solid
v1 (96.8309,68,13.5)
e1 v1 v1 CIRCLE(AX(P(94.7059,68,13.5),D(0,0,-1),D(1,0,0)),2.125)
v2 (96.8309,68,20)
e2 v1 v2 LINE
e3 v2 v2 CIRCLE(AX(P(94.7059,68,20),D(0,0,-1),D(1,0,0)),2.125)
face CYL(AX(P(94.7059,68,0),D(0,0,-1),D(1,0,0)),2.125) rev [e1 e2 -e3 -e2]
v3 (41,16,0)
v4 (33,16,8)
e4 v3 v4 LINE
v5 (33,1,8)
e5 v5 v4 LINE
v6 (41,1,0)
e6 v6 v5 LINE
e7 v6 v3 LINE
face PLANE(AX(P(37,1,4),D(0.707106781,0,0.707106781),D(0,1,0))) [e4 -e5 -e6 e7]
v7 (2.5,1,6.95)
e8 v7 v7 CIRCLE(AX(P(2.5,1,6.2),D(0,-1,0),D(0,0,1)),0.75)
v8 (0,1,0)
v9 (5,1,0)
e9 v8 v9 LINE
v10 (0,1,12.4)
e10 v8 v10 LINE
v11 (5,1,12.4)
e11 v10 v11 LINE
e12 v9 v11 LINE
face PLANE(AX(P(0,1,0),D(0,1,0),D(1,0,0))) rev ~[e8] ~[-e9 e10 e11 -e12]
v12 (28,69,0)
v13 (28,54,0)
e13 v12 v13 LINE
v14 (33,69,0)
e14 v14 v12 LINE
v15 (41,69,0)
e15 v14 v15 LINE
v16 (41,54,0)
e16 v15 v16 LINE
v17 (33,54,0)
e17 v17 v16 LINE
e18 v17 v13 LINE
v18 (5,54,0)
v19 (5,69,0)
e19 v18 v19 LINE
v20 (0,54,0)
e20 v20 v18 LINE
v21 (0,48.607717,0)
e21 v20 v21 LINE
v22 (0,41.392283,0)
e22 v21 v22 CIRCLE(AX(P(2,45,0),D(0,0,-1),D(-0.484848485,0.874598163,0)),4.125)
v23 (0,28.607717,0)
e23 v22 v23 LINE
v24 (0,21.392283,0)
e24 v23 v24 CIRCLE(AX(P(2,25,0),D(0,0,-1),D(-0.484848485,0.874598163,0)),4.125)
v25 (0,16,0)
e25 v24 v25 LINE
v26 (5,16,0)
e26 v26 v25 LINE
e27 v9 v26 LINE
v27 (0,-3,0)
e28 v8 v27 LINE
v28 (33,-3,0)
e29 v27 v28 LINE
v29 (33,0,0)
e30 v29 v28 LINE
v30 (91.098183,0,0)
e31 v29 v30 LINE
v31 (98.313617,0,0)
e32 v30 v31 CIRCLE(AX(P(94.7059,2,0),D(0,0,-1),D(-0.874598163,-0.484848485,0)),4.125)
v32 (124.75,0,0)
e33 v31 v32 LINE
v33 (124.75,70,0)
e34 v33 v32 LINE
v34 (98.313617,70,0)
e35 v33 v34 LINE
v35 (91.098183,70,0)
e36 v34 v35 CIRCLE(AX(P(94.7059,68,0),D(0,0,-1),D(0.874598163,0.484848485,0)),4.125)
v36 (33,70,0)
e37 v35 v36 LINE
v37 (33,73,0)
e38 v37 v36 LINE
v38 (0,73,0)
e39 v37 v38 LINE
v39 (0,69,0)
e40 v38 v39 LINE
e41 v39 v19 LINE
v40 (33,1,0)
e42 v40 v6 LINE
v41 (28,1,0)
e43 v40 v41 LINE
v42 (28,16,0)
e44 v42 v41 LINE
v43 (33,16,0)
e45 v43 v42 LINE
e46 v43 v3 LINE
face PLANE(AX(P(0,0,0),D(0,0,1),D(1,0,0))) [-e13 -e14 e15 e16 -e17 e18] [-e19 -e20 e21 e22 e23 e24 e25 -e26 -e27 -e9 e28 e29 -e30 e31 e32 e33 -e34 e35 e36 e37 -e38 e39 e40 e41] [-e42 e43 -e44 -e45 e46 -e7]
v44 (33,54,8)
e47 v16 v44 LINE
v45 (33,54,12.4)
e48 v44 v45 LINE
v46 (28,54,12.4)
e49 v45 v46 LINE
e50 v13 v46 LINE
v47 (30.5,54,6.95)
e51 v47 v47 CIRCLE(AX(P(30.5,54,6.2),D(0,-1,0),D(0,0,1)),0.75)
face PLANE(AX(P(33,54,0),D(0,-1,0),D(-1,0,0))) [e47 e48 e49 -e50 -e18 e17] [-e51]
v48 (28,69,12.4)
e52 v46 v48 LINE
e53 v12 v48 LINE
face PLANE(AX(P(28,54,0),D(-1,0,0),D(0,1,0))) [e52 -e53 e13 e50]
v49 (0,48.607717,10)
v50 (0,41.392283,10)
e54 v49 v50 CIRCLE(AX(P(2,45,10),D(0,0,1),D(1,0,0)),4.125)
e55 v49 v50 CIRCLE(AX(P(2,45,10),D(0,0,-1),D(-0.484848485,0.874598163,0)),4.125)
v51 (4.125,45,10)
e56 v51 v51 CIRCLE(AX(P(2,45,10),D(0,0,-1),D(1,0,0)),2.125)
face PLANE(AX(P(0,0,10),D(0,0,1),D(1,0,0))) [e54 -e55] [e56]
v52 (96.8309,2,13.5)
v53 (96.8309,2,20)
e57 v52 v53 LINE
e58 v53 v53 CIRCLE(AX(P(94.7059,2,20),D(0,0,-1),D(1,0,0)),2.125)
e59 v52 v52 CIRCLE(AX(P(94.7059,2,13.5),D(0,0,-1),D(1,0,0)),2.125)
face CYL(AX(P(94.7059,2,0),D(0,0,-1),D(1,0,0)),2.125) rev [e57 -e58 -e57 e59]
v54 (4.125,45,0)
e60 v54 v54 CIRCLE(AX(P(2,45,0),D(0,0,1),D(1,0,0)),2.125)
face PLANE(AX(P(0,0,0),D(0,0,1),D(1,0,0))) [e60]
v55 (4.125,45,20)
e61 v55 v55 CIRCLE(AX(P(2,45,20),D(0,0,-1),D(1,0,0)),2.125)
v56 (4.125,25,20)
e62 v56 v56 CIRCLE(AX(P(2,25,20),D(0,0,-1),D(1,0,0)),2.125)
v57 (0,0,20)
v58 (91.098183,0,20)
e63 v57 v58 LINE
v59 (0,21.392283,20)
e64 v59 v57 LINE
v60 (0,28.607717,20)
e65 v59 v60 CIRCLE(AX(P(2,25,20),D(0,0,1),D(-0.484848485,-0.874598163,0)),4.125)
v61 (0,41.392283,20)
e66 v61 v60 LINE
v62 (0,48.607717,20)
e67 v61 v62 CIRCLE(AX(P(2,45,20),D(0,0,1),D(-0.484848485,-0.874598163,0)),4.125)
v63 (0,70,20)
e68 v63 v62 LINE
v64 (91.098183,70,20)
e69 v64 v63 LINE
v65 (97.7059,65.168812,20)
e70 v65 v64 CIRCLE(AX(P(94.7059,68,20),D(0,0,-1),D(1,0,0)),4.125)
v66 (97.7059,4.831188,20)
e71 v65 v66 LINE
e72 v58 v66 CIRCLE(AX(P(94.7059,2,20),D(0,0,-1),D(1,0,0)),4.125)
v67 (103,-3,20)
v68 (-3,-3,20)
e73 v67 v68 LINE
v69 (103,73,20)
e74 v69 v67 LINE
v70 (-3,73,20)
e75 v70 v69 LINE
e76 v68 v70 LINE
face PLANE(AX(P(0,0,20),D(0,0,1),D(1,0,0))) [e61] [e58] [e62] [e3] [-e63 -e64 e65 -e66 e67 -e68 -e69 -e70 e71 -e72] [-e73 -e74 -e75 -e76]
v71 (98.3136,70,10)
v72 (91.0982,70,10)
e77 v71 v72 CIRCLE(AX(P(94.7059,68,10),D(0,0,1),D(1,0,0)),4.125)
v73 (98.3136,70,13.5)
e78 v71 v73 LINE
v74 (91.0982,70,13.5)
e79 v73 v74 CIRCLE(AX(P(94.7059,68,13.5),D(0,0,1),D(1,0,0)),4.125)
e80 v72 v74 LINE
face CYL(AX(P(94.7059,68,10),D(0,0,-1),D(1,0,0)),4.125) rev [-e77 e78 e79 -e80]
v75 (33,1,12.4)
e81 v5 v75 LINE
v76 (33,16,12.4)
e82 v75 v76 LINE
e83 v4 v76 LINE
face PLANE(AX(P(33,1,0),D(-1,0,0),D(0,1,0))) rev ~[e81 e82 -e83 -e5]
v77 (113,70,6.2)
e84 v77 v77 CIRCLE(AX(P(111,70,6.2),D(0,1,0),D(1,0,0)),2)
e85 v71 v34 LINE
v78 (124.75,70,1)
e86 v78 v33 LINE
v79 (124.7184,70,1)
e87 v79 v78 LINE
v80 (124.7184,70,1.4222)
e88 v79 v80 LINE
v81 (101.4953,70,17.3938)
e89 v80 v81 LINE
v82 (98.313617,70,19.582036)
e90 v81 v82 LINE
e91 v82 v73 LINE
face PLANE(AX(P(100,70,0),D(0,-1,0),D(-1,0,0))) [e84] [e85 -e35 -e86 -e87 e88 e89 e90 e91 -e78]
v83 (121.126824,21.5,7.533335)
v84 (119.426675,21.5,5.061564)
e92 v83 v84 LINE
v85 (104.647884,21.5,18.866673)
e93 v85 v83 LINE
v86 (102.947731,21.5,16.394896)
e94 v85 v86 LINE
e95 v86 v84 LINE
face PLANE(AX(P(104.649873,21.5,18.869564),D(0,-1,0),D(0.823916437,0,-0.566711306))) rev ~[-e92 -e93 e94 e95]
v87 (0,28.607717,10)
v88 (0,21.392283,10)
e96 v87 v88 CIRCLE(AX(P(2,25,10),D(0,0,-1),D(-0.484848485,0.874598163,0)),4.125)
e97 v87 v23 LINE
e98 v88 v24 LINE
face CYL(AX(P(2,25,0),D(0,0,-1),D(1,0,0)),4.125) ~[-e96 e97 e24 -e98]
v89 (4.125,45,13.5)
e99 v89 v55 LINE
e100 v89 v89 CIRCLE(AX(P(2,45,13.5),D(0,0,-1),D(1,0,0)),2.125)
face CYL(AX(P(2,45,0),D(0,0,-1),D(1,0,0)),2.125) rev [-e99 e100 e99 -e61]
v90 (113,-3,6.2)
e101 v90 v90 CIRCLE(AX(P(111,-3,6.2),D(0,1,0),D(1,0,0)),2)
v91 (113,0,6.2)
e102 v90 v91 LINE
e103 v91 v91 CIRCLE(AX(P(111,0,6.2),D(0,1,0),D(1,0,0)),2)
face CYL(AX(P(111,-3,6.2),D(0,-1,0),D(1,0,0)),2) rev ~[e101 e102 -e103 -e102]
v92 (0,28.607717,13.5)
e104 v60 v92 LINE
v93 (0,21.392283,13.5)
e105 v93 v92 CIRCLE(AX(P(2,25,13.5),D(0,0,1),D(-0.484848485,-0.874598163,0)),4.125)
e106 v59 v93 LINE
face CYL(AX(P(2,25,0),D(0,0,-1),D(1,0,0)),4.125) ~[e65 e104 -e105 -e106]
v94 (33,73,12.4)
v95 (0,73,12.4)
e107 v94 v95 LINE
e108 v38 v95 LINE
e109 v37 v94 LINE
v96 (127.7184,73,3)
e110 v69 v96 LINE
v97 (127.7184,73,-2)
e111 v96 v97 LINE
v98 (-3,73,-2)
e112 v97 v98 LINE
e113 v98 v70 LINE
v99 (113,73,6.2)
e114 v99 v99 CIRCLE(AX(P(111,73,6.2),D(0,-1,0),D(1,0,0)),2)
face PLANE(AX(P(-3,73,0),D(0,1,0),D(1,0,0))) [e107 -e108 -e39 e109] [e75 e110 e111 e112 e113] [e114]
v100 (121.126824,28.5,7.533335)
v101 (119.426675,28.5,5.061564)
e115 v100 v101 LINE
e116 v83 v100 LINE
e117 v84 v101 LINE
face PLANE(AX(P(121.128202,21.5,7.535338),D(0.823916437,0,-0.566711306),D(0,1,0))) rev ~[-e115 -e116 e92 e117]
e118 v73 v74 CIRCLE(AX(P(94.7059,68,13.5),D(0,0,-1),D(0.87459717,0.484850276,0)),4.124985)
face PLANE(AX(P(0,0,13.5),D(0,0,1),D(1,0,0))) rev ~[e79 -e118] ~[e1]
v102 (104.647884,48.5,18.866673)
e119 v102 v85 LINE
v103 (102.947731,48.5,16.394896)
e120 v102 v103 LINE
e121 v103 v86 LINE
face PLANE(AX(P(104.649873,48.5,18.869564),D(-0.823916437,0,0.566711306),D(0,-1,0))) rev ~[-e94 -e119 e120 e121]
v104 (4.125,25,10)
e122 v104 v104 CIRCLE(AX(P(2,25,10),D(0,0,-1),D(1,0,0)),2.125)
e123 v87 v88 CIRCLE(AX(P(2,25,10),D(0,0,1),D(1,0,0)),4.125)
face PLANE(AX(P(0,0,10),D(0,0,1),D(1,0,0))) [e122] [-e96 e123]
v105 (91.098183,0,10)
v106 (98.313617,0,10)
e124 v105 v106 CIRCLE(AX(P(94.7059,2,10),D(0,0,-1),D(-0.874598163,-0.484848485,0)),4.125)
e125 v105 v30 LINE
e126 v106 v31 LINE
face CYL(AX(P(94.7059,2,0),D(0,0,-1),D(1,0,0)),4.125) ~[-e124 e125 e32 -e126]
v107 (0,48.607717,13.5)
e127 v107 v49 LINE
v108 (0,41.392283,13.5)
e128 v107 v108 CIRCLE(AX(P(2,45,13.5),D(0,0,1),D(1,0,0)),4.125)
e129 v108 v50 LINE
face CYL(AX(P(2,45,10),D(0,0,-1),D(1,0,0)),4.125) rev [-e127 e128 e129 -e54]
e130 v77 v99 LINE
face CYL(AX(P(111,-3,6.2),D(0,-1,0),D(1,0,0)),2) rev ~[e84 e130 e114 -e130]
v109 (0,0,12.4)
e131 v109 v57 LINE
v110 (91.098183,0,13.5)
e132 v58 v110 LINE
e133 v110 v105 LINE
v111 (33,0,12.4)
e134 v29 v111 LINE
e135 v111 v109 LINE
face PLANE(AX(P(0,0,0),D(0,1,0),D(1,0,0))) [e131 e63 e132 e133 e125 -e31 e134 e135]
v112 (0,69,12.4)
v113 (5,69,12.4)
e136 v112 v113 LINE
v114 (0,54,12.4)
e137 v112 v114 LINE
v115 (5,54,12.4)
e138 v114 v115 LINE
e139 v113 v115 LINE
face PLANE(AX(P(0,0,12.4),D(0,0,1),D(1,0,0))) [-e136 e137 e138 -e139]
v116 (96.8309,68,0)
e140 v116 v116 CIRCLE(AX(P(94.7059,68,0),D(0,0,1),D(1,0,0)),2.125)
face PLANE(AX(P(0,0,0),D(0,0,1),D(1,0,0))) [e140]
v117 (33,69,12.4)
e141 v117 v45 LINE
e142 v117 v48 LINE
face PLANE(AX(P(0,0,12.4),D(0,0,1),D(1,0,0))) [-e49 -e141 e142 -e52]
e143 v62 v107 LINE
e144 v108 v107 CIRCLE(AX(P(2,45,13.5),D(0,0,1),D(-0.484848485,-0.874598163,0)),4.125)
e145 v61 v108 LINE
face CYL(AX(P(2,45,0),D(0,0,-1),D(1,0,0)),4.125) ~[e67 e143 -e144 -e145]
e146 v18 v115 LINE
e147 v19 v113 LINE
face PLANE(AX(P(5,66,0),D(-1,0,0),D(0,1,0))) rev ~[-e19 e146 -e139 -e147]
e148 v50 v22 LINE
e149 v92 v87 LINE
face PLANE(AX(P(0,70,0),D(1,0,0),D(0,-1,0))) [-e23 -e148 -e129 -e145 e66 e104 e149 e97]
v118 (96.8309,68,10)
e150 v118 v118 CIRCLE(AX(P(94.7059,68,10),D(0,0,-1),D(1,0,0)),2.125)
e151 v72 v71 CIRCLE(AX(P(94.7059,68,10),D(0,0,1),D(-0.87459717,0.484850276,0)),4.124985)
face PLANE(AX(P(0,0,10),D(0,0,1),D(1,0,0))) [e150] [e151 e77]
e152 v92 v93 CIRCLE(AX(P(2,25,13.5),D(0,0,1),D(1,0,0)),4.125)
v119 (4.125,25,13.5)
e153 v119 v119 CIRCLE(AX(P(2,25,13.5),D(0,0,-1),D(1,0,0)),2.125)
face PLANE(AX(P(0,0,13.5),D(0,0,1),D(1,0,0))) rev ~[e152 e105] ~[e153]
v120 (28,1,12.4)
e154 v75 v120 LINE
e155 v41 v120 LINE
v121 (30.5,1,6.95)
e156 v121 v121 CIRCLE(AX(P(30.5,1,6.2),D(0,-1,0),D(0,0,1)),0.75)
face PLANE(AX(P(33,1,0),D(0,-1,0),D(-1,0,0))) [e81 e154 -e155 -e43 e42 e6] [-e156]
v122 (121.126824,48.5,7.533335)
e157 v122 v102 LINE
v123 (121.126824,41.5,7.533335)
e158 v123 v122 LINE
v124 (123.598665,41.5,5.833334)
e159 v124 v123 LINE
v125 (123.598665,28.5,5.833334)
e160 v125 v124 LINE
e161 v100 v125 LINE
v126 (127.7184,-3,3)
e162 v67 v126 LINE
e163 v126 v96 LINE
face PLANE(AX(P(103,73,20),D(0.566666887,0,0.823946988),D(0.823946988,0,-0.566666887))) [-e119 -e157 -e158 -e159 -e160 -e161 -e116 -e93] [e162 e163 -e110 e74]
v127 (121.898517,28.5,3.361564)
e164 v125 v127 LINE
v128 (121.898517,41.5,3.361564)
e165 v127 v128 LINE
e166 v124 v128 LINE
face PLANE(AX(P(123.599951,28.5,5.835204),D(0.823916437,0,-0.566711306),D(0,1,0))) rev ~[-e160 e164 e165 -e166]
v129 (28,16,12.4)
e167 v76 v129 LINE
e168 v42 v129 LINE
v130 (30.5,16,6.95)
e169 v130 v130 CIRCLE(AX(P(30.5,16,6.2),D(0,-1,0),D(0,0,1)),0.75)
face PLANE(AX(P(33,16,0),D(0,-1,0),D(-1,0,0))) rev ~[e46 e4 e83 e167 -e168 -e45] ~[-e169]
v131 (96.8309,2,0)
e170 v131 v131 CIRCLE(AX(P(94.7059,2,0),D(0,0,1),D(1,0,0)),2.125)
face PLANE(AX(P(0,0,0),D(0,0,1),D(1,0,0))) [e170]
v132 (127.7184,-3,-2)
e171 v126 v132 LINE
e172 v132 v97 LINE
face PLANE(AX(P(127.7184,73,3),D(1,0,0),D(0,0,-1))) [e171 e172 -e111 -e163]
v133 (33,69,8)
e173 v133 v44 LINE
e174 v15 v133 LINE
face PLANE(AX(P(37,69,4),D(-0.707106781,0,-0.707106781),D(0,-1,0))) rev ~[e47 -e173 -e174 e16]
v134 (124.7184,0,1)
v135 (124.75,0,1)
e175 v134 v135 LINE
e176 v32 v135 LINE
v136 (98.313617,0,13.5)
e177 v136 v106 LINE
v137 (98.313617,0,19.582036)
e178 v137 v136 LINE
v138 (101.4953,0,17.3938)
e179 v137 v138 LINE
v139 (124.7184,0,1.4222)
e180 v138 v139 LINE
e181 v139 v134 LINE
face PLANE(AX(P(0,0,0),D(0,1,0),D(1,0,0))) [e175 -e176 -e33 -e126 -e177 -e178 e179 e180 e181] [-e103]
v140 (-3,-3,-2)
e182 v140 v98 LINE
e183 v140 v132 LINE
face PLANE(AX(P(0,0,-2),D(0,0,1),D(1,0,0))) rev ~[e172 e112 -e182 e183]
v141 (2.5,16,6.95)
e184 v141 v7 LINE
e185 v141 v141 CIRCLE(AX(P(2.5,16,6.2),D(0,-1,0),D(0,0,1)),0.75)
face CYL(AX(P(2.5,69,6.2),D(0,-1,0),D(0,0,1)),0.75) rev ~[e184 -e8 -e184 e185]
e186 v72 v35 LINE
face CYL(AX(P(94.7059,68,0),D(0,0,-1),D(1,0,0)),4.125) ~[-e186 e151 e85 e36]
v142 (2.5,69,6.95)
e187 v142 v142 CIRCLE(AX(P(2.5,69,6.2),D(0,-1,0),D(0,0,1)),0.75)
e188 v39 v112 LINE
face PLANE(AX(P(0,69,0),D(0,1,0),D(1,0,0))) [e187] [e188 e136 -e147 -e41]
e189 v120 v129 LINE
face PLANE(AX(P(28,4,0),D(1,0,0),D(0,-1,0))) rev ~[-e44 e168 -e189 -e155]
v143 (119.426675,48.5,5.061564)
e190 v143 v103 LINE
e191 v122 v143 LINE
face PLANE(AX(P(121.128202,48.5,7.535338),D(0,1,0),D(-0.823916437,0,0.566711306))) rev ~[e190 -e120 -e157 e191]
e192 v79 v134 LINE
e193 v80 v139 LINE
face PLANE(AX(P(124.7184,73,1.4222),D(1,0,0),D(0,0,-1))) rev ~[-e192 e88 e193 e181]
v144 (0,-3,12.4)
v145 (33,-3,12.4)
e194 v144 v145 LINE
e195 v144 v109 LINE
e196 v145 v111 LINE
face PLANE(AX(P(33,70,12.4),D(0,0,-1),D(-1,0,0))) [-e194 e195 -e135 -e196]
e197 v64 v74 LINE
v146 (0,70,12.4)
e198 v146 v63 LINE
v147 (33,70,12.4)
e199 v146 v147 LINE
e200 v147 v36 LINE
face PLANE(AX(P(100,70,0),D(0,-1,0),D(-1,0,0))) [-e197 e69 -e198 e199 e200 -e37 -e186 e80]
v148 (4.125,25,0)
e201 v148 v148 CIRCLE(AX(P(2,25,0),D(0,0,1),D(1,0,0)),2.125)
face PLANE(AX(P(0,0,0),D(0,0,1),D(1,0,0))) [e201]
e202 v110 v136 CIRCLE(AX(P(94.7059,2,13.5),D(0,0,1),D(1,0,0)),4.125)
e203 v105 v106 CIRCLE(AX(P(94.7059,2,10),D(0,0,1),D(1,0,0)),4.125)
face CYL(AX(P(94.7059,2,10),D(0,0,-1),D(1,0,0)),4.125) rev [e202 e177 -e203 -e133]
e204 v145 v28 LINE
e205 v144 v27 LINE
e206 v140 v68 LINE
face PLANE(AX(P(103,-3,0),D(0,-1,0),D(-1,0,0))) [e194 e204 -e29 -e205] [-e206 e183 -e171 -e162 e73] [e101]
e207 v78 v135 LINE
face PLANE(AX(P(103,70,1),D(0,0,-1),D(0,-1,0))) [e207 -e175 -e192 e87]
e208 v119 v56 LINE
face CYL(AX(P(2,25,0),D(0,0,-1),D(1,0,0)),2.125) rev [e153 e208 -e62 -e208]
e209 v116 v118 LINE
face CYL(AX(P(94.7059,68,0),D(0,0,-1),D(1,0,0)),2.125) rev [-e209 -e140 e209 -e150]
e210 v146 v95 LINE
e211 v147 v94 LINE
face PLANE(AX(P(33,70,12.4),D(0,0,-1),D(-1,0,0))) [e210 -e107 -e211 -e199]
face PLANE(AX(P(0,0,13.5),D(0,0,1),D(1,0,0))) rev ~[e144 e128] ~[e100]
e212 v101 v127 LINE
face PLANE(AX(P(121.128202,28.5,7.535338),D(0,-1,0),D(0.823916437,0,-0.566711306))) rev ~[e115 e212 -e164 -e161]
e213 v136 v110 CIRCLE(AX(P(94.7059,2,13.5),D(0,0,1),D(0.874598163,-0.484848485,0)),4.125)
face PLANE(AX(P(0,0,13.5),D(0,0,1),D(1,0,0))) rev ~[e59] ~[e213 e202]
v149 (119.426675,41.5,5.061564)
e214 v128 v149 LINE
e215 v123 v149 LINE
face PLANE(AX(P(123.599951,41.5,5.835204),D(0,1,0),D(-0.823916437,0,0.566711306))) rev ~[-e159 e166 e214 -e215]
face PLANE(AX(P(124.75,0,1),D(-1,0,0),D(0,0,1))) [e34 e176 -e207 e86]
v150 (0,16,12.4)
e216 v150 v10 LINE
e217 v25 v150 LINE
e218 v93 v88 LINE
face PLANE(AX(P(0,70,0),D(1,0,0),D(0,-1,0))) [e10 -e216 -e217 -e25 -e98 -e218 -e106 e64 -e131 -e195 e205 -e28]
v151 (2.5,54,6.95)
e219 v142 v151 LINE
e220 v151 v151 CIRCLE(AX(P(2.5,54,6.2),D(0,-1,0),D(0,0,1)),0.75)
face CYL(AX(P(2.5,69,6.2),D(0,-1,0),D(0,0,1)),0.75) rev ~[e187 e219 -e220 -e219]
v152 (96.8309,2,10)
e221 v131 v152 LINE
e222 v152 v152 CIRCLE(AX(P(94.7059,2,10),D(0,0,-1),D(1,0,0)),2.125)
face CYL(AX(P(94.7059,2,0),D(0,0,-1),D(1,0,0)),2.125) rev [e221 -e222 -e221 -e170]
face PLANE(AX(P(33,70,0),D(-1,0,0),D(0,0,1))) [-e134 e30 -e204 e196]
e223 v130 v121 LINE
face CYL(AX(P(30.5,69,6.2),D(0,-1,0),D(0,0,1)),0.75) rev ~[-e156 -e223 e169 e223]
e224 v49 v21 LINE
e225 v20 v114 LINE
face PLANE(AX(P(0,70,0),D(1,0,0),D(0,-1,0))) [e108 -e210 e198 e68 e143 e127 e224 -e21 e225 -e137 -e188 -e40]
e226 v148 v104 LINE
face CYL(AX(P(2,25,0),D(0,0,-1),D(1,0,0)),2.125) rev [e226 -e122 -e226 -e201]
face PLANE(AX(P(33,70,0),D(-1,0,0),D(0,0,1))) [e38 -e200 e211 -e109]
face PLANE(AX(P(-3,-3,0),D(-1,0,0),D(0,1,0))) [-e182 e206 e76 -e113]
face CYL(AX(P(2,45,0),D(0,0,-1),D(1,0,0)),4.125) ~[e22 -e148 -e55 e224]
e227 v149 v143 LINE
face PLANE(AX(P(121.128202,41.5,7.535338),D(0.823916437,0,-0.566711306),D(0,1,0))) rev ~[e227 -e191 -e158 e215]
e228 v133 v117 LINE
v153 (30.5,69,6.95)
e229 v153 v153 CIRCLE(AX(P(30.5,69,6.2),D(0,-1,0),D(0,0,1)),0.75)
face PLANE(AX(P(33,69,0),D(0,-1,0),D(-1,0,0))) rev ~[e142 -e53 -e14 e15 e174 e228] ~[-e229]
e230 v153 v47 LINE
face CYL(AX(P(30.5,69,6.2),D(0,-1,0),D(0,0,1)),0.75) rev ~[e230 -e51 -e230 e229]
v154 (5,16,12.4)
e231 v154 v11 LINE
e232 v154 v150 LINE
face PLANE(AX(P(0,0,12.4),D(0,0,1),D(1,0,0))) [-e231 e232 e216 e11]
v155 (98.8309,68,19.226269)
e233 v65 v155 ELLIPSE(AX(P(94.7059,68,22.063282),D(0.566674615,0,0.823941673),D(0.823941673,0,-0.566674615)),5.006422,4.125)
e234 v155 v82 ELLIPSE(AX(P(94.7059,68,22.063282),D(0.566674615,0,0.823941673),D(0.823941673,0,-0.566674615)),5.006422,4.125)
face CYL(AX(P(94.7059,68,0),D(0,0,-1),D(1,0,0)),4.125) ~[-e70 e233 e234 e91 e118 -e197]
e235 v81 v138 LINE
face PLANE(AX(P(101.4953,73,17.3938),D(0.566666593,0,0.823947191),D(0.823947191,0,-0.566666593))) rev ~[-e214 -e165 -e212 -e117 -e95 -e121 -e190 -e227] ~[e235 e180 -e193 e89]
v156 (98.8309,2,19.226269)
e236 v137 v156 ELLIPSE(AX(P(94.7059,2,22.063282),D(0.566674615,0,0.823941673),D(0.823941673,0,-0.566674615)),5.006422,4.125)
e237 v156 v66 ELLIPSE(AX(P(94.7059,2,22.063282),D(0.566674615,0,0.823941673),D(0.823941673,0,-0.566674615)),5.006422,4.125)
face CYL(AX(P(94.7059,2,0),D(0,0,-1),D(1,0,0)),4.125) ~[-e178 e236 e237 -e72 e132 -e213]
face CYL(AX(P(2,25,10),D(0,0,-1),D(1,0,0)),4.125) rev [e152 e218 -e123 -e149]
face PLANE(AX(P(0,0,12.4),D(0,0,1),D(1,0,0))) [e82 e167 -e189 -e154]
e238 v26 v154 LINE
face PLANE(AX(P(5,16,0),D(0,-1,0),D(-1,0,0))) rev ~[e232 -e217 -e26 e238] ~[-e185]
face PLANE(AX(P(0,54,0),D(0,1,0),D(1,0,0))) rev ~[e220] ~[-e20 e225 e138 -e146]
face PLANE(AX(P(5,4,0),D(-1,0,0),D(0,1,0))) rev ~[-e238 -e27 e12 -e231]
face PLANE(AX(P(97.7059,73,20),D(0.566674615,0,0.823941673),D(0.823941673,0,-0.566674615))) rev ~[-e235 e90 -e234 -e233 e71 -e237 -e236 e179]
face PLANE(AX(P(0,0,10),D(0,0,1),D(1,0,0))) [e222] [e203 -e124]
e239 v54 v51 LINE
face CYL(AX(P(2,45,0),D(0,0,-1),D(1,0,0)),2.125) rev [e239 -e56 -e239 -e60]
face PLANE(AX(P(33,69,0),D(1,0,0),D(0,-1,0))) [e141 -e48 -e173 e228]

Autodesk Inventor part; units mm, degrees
ref_plane "YZ Plane" through (0, 0, 0) normal (1, 0, 0) x (0, 1, 0)
ref_plane "XZ Plane" through (0, 0, 0) normal (0, 1, 0) x (-1, 0, 0)
sketch "Sketch1" plane through (0, 0, 0) normal (0, 0, 1) x (1, 0, 0)
  line L0 (0, 0) -> (100, 0)
  line L1 (100, 0) -> (100, 70)
  line L2 (100, 70) -> (0, 70)
  line L3 (0, 70) -> (0, 0)
  line L4 (-3, 73) -> (103, 73)
  line L5 (103, 73) -> (103, -3)
  line L6 (103, -3) -> (-3, -3)
  line L7 (-3, -3) -> (-3, 73)
  line L8 (100, 0) -> (103, 0)
  line L9 (100, 70) -> (103, 70)
  dimension "d0" = 100
  dimension "d1" = 70
  dimension "d2" = 3
extrude "Extrusion1" add sketch "Sketch1" against normal blind 2
extrude "Extrusion2" add sketch "Sketch1" along normal blind 20 contours L0 L8 L5 L6 L7 L4 L9 L2 L3 | L1 L9 L5 L8
sketch "Sketch2" plane through (0, 70, 0) normal (0, -1, 0) x (1, 0, 0)
  line L0 (0, 0) -> (0, 20) projected
  line L1 (100, 0) -> (0, 0) projected
  line L2 (0, 0) -> (33, 0)
  line L3 (33, 0) -> (33, 12.4)
  line L4 (33, 12.4) -> (0, 12.4)
  line L5 (0, 12.4) -> (0, 0)
  line L6 (100, 0) -> (0, 0) projected
  dimension "d7" = 33
  dimension "d8" = 12.4
extrude "Extrusion3" cut sketch "Sketch2" along normal through all both and the other way through all
sketch "Sketch3" plane through (0, 0, 0) normal (0, 0, 1) x (1, 0, 0)
  line L0 (33, 1) -> (28, 1) projected
  line L1 (28, 4) -> (28, 1) projected
  line L2 (0, 1) -> (5, 1) projected
  line L3 (5, 4) -> (5, 1) projected
  line L4 (5, 66) -> (5, 69) projected
  line L5 (0, 69) -> (5, 69) projected
  line L6 (33, 69) -> (28, 69) projected
  line L7 (28, 66) -> (28, 69) projected
  line L8 (33, 54) -> (28, 54)
  line L9 (28, 54) -> (28, 69)
  line L10 (28, 69) -> (33, 69)
  line L11 (33, 69) -> (33, 54)
  line L12 (5, 69) -> (0, 69)
  line L13 (0, 69) -> (0, 54)
  line L14 (0, 54) -> (5, 54)
  line L15 (5, 54) -> (5, 69)
  line L16 (0, 73) -> (0, -3) projected
  line L17 (0, 1) -> (5, 1)
  line L18 (5, 1) -> (5, 16)
  line L19 (5, 16) -> (0, 16)
  line L20 (0, 16) -> (0, 1)
  line L21 (33, 16) -> (28, 16)
  line L22 (28, 16) -> (28, 1)
  line L23 (28, 1) -> (33, 1)
  line L24 (33, 1) -> (33, 16)
  point P0 (0, 0)
  dimension "d11" = 15
  dimension "d12" = 15
  dimension "d13" = 15
  dimension "d14" = 15
ref_plane "Work Plane1" through (0, 66, 12.4) normal (0, 0, 1) x (1, 0, 0)
extrude "Extrusion4" add sketch "Sketch3" along normal up to surface (12.4 mm away)
sketch "Sketch4" plane through (28, 69, 0) normal (0, 1, 0) x (1, 0, 0)
  arc A0 (3.1614, -5.45) -> (3.1614, -6.95) centre (2.5, -6.2) ccw projected
  arc A1 (-26.1614, -6.95) -> (-26.1614, -5.45) centre (-25.5, -6.2) ccw projected
  point P0 (-28, 0)
hole "Hole1" at (30.5, 69, 6.2) at (2.5, 69, 6.2) direction (0, -1, 0) diameter 1.5 end through all
sketch "Sketch5" plane through (-3, 73, -2) normal (0, 1, 0) x (1, 0, 0)
  line L0 (106, -22) -> (0, -22) projected
  line L1 (106, -22) -> (106, 0) projected
  line L2 (0, 0) -> (106, 0) projected
  line L3 (106, -22) -> (106, 0) projected
  line L4 (106, -22) -> (130.7184, -5)
  line L5 (130.7184, -5) -> (130.7184, 0)
  line L6 (130.7184, 0) -> (106, 0)
  line L7 (104.4953, -19.3938) -> (127.7184, -3.4222)
  line L8 (127.7184, -3.4222) -> (127.7184, -3)
  line L9 (127.7184, -3) -> (106, -3)
  line L10 (106, -3) -> (106, 0)
  line L11 (106, -22) -> (100.7059, -22)
  line L12 (100.7059, -22) -> (104.4953, -19.3938)
  point P0 (3, -2)
  dimension "d32" = 30
  dimension "d33" = 5
  dimension "d42" = 3
extrude "Extrusion5" cut sketch "Sketch1" along normal through all contours L1 L9 L5 L8
extrude "Extrusion6" add sketch "Sketch5" against normal blind 76 contours L0 L12 L7 L1 | L1 L7 L8 L9 L6 L5 L4
extrude "Extrusion7" add sketch "Sketch5" against normal blind 3 contours L1 L7 L8 L9 L6 L5 L4 | L1 L9 L8 L7
sketch "Sketch6" plane through (-3, -3, -2) normal (0, -1, 0) x (1, 0, 0)
  line L0 (0, 0) -> (130.7184, 0) projected
  line L1 (130.7184, 5) -> (130.7184, 0) projected
  line L2 (106, 22) -> (130.7184, 5) projected
  line L3 (106, 22) -> (106, 0) projected
  point P0 (3, 2)
extrude "Extrusion8" add sketch "Sketch6" against normal blind 3
sketch "Sketch7" plane through (103, 0, 1) normal (-1, 0, 0) x (0, 0, 1)
  line L0 (-1, 0) -> (0, 0) projected
  line L1 (0, 70) -> (0, 0) projected
  line L2 (0, 70) -> (-1, 70) projected
  line L3 (-1, 70) -> (-1, 0) projected
  point P0 (-1, 0)
extrude "Extrusion9" cut sketch "Sketch7" against normal blind 21.75
sketch "Sketch8" plane through (127.7184, -3, 3) normal (0.5667, 0, 0.8239) x (0.8239, 0, -0.5667)
  line L0 (-28, 24.5) -> (-8, 24.5)
  line L1 (-8, 24.5) -> (-8, 51.5)
  line L2 (-8, 51.5) -> (-28, 51.5)
  line L3 (-28, 51.5) -> (-28, 24.5)
  line L4 (0, 76) -> (0, 0) projected
  line L5 (-30, 76) -> (0, 76) projected
  line L6 (-30, 0) -> (-30, 76) projected
  line L7 (0, 0) -> (-30, 0) projected
  line L8 (-28, 51.5) -> (-30, 76) construction
  line L9 (-30, 0) -> (-30, 76) construction
  line L10 (-28, 24.5) -> (-30, 0) construction
  line L11 (-8, 31.5) -> (-5, 31.5)
  line L12 (-5, 31.5) -> (-5, 44.5)
  line L13 (-5, 44.5) -> (-8, 44.5)
  line L14 (-8, 44.5) -> (-8, 31.5)
  line L15 (-8, 24.5) -> (-5, 31.5) construction
  line L16 (-5, 44.5) -> (-8, 51.5) construction
  point P0 (-103.5332, 3)
  dimension "d52" = 27
  dimension "d53" = 20
  dimension "d54" = 3
  dimension "d55" = 13
  dimension "d58" = 2
extrude "Extrusion10" cut sketch "Sketch8" against normal blind 3 contours L3 L2 L1 L0 | L1 L13 L12 L11
sketch "Sketch9" plane through (97.7059, 0, 20) normal (-0.5667, 0, -0.8239) x (-0.8239, 0, 0.5667)
  line L0 (-1.3621, 49.5) -> (-33.3621, 49.5)
  line L1 (-33.3621, 49.5) -> (-33.3621, 20.5)
  line L2 (-33.3621, 20.5) -> (-1.3621, 20.5)
  line L3 (-1.3621, 20.5) -> (-1.3621, 49.5)
  line L4 (-6.3621, 48.5) -> (-6.3621, 21.5) projected
  line L5 (-29.3621, 28.5) -> (-29.3621, 41.5) projected
  point P0 (69.1711, 0)
  dimension "d59" = 5
  dimension "d60" = 4
  dimension "d61" = 1
  dimension "d62" = 1
sketch "Sketch10" plane through (0, 0, 20) normal (0, 0, 1) x (1, 0, 0)
  point P0 (0, 0)
sketch "Sketch12" plane through (-3, -3, -2) normal (0, -1, 0) x (1, 0, 0)
  circle A0 centre (14, 8.2) radius 1.0065 construction
  line L0 (14, 8.2) -> (114, 8.2)
  circle A1 centre (114, 8.2) radius 2
  point P0 (3, 2)
  dimension "d67" = 100
  dimension "d68" = 4
extrude "Extrusion12" cut sketch "Sketch12" against normal through all
sketch "Sketch13" plane through (0, 0, 0) normal (0, 0, 1) x (1, 0, 0)
  circle A0 centre (2, 25) radius 2.125
  circle A1 centre (2, 45) radius 2.125
  line L0 (97.7059, 0) -> (0, 0) projected
  line L1 (0, 70) -> (97.7059, 70) projected
  line L2 (0, 0) -> (0, 70) projected
  circle A2 centre (2, 25) radius 4.125
  circle A3 centre (2, 45) radius 4.125
  dimension "d71" = 25
  dimension "d72" = 25
  dimension "d73" = 2
  dimension "d74" = 4.25
  dimension "d75" = 4.25
  dimension "d76" = 2
  dimension "d77" = 2
  dimension "d78" = 2
extrude "Extrusion13" add sketch "Sketch13" along normal up to surface (20 mm away)
extrude "Extrusion14" cut sketch "Sketch13" along normal up to surface (20 mm away) contours A0 L2 | L2 A0 | L2 A1 | A1 L2
sketch "Sketch14" plane through (0, 0, 0) normal (0, 0, 1) x (1, 0, 0)
  circle A0 centre (94.7059, 2) radius 2.125
  circle A1 centre (94.7059, 68) radius 2.125
  circle A2 centre (94.7059, 2) radius 4.125
  circle A3 centre (94.7059, 68) radius 4.125
  line L0 (97.7059, 0) -> (0, 0) projected
  line L1 (33, 70) -> (124.75, 70) projected
  line L2 (97.7059, 70) -> (97.7059, 0) projected
  dimension "d83" = 4.25
  dimension "d84" = 4.25
  dimension "d85" = 2
  dimension "d86" = 2
  dimension "d87" = 2
  dimension "d88" = 2
  dimension "d89" = 3
  dimension "d90" = 3
extrude "Extrusion15" add sketch "Sketch14" along normal up to surface (20 mm away)
extrude "Extrusion16" cut sketch "Sketch14" along normal up to surface (20 mm away) contours A0 L0 | L0 A0 | L1 A1 | A1 L1
ref_plane "Work Plane2" through (0, 0, 10) normal (0, 0, 1) x (1, 0, 0)
sketch "Sketch15" plane through (0, 0, 10) normal (0, 0, 1) x (1, 0, 0)
  arc A0 (91.0982, 70) -> (98.3136, 70) centre (94.7059, 68) ccw projected
  circle A1 centre (94.7059, 2) radius 4.125
  circle A2 centre (94.7059, 68) radius 4.125
  circle A3 centre (2, 25) radius 4.125
  circle A4 centre (2, 45) radius 4.125
  circle A5 centre (2, 25) radius 2.125 construction
  circle A6 centre (2, 45) radius 2.125 construction
  circle A7 centre (94.7059, 2) radius 2.125 construction
  circle A8 centre (94.7059, 68) radius 2.125 construction
  arc A9 (98.3136, 0) -> (91.0982, 0) centre (94.7059, 2) ccw construction
  arc A10 (0, 21.3923) -> (0, 28.6077) centre (2, 25) ccw construction
  arc A11 (0, 41.3923) -> (0, 48.6077) centre (2, 45) ccw construction
  point P0 (0, 0)
extrude "Extrusion17" cut sketch "Sketch15" along normal blind 3.5
chamfer "Chamfer1" distance 8 angle 45 2 edges at (33, 61.5, 0) (33, 8.5, 0)
equation "\"d12\" = d11"
equation "\"d13\" = d11"
equation "\"d14\" = d11"
equation "\"d62\" = d61"
equation "\"d72\" = d71"
equation "\"d75\" = d74"
equation "\"d76\" = d73"
equation "\"d88\" = d87"
equation "\"d90\" = d89"
properties part number "base" material "Ogólne"
